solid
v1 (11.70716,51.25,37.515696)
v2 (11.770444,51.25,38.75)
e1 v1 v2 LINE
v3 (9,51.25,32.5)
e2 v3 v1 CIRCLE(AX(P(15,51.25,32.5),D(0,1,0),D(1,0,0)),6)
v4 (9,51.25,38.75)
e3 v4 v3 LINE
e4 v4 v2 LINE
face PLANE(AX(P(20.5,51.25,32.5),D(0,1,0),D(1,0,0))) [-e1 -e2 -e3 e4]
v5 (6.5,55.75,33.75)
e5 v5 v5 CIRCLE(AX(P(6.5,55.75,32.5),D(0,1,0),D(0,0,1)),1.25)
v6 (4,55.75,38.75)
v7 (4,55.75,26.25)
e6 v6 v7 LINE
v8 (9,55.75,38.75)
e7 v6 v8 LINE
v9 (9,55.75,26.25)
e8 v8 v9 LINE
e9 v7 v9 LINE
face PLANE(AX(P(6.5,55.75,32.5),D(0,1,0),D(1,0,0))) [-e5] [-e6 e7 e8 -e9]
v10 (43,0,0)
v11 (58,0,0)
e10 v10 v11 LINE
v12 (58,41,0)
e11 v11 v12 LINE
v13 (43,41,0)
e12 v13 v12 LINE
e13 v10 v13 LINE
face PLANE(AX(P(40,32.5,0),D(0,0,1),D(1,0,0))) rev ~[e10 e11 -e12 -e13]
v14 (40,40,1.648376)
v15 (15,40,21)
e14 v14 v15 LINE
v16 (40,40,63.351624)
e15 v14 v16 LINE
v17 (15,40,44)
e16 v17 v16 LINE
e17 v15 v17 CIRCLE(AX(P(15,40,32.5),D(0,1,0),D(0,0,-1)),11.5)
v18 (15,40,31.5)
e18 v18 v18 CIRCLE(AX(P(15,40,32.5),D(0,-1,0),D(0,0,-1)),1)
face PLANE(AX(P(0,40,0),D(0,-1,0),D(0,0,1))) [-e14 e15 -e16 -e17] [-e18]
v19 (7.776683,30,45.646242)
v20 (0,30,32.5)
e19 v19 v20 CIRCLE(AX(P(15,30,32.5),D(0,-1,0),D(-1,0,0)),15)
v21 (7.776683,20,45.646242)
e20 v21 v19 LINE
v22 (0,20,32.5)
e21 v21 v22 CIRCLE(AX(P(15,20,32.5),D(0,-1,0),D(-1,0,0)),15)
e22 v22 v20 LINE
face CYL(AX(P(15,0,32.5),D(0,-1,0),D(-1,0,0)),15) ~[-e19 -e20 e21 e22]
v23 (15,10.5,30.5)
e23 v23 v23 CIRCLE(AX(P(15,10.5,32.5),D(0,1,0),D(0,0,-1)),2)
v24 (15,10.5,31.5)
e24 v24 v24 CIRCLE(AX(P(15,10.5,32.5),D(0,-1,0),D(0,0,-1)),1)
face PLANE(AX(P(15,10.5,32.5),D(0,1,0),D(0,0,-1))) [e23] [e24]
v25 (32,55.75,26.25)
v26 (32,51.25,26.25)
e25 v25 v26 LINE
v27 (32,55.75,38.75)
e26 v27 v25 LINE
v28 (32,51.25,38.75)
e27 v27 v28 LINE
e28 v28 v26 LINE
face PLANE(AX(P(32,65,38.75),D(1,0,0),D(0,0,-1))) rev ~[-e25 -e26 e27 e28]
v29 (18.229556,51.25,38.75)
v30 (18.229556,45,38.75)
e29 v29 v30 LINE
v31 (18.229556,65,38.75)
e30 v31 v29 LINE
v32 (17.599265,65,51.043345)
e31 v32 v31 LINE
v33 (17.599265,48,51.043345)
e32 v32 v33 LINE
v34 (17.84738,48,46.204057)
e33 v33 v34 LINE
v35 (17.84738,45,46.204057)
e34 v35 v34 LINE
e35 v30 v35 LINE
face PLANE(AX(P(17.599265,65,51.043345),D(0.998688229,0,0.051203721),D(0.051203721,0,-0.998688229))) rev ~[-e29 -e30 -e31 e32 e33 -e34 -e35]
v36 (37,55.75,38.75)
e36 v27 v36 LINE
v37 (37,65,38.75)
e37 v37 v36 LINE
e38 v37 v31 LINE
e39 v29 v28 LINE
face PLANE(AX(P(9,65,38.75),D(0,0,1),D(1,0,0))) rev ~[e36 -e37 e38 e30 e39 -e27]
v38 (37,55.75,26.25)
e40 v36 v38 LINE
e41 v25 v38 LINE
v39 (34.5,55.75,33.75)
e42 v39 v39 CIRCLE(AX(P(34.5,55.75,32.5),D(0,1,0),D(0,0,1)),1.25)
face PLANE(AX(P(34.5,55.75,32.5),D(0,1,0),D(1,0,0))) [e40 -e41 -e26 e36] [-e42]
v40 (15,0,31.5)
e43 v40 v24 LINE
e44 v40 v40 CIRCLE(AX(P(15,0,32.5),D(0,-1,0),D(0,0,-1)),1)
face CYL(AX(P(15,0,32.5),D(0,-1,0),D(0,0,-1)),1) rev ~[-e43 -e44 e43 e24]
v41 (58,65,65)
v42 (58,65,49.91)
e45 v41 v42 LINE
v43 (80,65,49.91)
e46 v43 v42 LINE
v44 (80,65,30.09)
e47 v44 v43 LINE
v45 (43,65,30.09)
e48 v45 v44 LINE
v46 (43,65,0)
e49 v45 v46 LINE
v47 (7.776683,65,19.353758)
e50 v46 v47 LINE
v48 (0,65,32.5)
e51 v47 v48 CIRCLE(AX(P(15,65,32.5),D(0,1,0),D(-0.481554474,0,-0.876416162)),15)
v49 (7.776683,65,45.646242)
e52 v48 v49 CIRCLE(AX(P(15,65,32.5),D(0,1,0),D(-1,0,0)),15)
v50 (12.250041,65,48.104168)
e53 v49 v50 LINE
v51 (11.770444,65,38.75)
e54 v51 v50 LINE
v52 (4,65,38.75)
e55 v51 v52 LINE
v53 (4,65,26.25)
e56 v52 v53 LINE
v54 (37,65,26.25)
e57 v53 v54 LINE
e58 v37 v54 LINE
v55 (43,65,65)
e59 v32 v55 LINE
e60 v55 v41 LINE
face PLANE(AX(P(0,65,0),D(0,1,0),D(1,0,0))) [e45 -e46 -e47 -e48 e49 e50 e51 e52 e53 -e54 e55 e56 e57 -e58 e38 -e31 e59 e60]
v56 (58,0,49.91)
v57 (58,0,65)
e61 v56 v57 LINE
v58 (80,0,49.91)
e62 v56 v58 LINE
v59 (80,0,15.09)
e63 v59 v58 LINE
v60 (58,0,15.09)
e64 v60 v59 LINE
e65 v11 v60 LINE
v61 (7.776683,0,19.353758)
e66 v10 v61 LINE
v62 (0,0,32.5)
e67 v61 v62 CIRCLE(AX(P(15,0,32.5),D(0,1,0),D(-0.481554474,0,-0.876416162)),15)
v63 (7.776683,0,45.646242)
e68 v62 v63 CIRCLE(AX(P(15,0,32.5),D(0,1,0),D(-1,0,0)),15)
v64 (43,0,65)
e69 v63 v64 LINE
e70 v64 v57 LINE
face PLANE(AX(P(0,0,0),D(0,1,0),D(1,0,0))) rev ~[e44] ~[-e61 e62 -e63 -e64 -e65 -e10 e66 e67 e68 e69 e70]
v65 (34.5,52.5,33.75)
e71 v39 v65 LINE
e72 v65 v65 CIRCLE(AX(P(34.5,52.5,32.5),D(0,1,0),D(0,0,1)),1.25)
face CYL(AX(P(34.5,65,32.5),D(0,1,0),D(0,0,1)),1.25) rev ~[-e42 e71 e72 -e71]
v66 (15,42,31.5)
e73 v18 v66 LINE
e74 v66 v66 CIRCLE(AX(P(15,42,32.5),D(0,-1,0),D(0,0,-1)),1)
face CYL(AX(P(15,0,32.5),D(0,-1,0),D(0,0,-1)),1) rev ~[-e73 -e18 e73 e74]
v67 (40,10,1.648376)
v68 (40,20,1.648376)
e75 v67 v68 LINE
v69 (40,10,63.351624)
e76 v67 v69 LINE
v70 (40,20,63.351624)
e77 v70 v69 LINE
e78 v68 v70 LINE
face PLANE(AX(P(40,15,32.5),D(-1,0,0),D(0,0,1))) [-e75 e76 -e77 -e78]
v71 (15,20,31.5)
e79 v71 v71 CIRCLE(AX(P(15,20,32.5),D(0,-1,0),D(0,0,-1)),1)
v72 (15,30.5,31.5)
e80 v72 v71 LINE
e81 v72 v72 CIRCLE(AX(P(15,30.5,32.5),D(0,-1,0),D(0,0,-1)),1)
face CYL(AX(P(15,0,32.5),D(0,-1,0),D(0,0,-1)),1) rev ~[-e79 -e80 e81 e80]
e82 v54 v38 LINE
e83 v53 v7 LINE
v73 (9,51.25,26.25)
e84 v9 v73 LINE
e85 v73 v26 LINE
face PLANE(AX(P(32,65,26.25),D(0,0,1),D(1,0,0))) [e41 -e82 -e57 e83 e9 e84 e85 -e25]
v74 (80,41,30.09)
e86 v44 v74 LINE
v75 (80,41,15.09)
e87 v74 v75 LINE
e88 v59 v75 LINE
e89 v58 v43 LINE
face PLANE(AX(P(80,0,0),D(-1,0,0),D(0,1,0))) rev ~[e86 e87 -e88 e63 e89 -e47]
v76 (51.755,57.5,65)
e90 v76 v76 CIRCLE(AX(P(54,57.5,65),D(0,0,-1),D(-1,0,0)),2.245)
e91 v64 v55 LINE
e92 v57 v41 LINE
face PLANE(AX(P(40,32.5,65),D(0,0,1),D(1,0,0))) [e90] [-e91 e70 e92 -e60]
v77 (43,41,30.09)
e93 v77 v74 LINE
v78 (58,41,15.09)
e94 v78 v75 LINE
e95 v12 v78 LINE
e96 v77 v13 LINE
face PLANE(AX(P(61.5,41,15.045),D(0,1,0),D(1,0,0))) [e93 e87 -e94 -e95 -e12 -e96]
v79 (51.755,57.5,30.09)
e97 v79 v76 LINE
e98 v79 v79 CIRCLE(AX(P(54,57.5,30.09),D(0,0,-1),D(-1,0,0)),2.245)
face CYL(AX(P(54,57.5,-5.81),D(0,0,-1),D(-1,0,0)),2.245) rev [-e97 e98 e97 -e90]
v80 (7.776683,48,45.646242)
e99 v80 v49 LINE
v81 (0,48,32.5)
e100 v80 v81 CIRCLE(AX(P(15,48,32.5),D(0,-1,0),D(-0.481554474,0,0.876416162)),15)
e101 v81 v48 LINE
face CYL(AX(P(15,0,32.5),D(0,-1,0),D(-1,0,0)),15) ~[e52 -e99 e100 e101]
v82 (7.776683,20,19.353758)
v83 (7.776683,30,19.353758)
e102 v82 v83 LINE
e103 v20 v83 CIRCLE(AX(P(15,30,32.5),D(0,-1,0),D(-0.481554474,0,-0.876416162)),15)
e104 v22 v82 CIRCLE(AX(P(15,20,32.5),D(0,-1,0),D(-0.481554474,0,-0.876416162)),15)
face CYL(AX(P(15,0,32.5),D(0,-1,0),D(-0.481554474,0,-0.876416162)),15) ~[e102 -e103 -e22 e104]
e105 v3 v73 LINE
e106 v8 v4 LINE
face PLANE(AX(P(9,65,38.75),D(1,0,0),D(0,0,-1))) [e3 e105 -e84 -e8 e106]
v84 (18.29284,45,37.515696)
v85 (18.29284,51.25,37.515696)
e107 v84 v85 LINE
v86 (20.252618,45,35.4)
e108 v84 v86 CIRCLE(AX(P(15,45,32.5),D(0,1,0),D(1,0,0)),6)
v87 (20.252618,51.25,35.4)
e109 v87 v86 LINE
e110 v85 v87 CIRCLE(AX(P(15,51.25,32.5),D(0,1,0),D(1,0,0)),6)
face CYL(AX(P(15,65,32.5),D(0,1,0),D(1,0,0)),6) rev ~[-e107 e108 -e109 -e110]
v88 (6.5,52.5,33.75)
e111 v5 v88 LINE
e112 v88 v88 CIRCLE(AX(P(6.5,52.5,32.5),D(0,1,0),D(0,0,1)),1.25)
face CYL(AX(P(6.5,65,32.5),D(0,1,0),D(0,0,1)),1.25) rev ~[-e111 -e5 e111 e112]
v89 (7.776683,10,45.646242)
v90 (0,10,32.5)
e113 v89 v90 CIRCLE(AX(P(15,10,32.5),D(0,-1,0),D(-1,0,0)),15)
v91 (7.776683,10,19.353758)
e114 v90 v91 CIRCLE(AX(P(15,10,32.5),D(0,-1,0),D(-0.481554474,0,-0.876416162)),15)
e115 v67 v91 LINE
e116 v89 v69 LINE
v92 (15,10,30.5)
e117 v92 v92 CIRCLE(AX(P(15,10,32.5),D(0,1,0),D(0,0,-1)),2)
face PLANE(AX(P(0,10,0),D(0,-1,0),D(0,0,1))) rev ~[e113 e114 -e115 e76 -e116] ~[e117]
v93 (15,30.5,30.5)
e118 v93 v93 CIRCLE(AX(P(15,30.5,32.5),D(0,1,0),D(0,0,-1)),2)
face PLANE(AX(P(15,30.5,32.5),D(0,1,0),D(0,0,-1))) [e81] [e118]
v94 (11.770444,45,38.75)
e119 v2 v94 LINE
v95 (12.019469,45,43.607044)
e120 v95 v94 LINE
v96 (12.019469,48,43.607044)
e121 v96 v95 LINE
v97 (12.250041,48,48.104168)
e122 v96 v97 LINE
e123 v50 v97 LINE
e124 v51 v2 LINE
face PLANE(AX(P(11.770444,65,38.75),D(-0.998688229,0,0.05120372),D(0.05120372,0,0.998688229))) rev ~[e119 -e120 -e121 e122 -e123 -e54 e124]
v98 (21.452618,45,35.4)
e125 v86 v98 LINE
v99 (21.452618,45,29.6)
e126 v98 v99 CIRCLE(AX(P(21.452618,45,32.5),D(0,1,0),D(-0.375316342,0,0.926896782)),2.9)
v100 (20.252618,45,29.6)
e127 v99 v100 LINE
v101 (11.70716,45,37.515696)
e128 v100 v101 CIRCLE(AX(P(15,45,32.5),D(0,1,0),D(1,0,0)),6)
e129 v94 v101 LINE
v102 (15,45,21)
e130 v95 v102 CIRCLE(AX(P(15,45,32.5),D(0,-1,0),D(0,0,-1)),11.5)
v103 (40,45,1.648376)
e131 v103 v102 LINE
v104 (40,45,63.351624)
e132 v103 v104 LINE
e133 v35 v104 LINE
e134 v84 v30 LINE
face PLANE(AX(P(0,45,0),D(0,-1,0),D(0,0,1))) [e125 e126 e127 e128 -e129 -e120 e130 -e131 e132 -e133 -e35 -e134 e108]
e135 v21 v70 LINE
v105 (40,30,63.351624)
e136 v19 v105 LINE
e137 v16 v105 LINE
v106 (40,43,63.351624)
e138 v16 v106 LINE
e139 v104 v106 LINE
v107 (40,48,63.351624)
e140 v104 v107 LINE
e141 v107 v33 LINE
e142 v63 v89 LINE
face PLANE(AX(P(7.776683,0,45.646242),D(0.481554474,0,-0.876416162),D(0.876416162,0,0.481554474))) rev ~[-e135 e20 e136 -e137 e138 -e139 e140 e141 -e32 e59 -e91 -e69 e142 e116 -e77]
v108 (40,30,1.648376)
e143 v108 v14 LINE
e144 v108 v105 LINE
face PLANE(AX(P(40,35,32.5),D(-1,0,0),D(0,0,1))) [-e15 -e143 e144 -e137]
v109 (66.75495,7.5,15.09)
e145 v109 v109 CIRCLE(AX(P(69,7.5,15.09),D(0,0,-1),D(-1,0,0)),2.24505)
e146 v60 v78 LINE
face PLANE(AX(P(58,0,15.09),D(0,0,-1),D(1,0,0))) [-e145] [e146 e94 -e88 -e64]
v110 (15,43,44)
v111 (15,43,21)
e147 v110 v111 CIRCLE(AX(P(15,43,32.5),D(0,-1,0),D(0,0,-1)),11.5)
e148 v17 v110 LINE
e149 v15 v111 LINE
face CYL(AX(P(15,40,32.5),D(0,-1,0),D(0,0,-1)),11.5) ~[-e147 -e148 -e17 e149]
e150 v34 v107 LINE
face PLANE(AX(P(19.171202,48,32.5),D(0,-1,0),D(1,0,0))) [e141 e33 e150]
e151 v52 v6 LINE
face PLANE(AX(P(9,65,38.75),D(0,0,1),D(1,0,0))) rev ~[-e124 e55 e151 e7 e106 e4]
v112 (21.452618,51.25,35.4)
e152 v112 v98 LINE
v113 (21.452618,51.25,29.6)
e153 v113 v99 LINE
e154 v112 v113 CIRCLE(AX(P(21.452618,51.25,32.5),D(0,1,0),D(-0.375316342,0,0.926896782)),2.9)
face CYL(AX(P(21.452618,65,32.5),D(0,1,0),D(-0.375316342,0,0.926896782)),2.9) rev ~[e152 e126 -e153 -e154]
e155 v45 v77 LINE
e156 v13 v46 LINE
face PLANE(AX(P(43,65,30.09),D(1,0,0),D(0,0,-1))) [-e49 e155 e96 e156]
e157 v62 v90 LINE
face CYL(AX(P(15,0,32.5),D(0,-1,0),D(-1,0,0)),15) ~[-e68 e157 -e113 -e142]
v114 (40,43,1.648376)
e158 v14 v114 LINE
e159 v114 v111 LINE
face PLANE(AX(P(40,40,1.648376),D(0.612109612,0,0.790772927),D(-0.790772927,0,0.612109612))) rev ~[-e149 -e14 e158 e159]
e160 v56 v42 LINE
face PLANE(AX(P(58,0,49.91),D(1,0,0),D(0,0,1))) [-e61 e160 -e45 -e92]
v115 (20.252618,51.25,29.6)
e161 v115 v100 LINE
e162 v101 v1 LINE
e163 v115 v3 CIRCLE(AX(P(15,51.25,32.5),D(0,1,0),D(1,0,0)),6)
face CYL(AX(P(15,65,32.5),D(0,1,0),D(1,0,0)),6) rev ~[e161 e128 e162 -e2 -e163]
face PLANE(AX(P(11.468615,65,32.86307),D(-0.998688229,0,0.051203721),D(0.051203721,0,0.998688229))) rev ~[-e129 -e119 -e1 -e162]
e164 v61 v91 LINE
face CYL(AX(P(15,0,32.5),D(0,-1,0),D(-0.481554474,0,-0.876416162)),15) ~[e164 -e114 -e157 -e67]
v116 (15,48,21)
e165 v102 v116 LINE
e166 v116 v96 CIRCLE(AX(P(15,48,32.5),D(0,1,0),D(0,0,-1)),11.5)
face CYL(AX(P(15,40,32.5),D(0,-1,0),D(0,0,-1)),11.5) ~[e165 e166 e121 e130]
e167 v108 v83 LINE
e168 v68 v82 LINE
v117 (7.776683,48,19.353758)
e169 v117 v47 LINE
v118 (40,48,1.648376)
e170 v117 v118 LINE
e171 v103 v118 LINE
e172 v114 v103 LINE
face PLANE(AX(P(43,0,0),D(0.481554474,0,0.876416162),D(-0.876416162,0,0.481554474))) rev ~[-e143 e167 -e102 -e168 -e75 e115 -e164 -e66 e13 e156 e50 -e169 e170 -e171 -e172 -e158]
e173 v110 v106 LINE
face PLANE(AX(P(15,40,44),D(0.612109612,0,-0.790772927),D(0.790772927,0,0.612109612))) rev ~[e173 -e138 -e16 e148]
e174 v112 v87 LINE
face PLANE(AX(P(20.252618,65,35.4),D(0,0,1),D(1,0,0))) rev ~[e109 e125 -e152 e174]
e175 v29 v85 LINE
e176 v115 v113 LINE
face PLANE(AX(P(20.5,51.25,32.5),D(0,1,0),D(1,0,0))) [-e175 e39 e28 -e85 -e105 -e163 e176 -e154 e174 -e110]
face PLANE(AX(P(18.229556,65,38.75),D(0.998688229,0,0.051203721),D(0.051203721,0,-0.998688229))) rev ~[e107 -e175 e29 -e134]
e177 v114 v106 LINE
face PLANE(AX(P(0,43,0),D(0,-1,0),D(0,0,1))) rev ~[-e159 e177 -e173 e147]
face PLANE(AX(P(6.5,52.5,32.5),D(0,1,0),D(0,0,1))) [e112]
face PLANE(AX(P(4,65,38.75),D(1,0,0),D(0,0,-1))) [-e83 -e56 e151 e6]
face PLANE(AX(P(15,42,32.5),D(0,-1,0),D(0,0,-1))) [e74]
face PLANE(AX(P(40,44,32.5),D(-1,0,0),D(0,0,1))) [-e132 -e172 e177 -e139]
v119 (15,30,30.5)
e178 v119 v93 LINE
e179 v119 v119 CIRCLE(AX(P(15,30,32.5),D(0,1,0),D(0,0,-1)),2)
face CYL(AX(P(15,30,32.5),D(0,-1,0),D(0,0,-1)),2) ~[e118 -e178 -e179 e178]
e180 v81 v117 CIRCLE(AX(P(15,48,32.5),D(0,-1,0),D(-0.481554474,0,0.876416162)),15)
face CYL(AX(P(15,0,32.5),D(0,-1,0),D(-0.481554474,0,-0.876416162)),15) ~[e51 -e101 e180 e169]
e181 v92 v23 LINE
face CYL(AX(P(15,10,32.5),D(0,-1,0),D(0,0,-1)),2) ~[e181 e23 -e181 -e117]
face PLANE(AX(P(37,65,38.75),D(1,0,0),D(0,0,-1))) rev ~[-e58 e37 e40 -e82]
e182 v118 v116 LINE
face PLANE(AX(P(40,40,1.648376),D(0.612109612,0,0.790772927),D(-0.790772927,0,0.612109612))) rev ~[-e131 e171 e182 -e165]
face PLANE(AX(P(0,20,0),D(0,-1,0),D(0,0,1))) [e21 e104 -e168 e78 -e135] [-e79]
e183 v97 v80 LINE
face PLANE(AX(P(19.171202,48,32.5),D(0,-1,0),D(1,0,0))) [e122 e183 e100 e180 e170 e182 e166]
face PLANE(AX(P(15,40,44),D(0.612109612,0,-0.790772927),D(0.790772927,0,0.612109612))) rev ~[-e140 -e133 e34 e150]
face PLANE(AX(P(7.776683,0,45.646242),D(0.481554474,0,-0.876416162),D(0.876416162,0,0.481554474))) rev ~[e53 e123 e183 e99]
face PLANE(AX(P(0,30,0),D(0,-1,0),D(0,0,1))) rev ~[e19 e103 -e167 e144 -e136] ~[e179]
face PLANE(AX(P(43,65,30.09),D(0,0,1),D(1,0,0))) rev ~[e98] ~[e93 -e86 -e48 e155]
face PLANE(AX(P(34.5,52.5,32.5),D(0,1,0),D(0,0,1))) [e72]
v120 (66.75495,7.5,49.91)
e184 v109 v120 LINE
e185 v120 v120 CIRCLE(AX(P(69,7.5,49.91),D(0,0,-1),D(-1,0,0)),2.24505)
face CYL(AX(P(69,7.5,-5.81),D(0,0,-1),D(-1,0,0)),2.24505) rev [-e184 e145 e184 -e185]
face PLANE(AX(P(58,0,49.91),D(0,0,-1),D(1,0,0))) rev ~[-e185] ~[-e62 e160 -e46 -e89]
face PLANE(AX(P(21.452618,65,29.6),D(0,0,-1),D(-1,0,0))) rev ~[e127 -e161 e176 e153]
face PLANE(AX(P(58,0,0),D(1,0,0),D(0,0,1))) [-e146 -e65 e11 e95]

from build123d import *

# Parameters (mm, degrees)
SKETCH1_W               = 80
SKETCH1_H               = 65
BOSS_EXTRUDE1_DEPTH     = 65
SKETCH3_W               = 22
SKETCH3_H               = 15.09
CUT_EXTRUDE1_DEPTH      = 65.72
CUT_EXTRUDE2_DEPTH      = 20
CUT_EXTRUDE2_DEPTH_BACK = 55.72
SKETCH4_R               = 2.245
SKETCH4_R_2             = 2.24505
SKETCH5_W               = 65
SKETCH5_H               = 10
SKETCH5_H_2             = 2
CUT_EXTRUDE3_DEPTH      = 40
CUT_EXTRUDE4_DEPTH      = 65
SKETCH10_R              = 1
CUT_EXTRUDE6_DEPTH      = 42
SKETCH12_R              = 2.9
SKETCH12_R_2            = 6
CUT_EXTRUDE7_DEPTH      = 20
SKETCH14_W              = 23
SKETCH14_H              = 12.5
CUT_EXTRUDE9_DEPTH      = 13.75
SKETCH16_W              = 5
SKETCH16_H              = 12.5
SKETCH16_R              = 1.25
CUT_EXTRUDE10_DEPTH     = 9.25
SKETCH16_4_R            = 1.25
CUT_EXTRUDE11_DEPTH     = 12.5
CUT_EXTRUDE12_DEPTH     = 21.5
CUT_EXTRUDE13_DEPTH     = 8
SKETCH20_R              = 2
BOSS_EXTRUDE2_DEPTH     = 0.5
SKETCH21_R              = 2
BOSS_EXTRUDE3_DEPTH     = 0.5
SKETCH22_R              = 1
CUT_EXTRUDE14_DEPTH     = 30.5
SKETCH23_W              = 37
SKETCH23_H              = 30.09
CUT_EXTRUDE15_DEPTH     = 24


with BuildPart() as part:
    # Sketch1 → Boss-Extrude1 (new body)
    with BuildSketch(Plane.XY):
        with Locations((40, 32.5)):
            Rectangle(SKETCH1_W, SKETCH1_H)
    extrude(amount=BOSS_EXTRUDE1_DEPTH)

    # Sketch3 → Cut-Extrude1 (cut)
    with BuildSketch(Plane.XZ):
        with Locations((69, 57.455)):
            Rectangle(SKETCH3_W, SKETCH3_H)
        with Locations((69, 7.545)):
            Rectangle(SKETCH3_W, SKETCH3_H)
    extrude(amount=-CUT_EXTRUDE1_DEPTH, mode=Mode.SUBTRACT)

    # Sketch4 → Cut-Extrude2 (cut, two sides: drawn at the far end of the back side and taken through both)
    with BuildSketch(Plane.XY.offset(49.91).offset(-CUT_EXTRUDE2_DEPTH_BACK)):
        with Locations(Location((54, 57.5, 0), (0, 0, 180))):
            Circle(SKETCH4_R)
        with Locations(Location((69, 7.5, 0), (0, 0, 180))):
            Circle(SKETCH4_R_2)
    extrude(amount=CUT_EXTRUDE2_DEPTH + CUT_EXTRUDE2_DEPTH_BACK, mode=Mode.SUBTRACT)

    # Sketch5 → Cut-Extrude3 (cut)
    with BuildSketch(Plane.ZY):
        with Locations((32.5, 35)):
            Rectangle(SKETCH5_W, SKETCH5_H)
        with Locations((32.5, 15)):
            Rectangle(SKETCH5_W, SKETCH5_H)
        with Locations((32.5, 44)):
            Rectangle(SKETCH5_W, SKETCH5_H_2)
    extrude(amount=-CUT_EXTRUDE3_DEPTH, mode=Mode.SUBTRACT)

    # Sketch6 → Cut-Extrude4 (cut)
    with BuildSketch(Plane.XZ):
        with BuildLine():
            Line((0, 0), (43, 0))
            Line((43, 0), (7.776682895, 19.353757571))
            ThreePointArc((7.776682895, 19.353757571), (2.089737482, 24.862911437), (0, 32.5))
            Line((0, 32.5), (0, 0))
        make_face()
        with BuildLine():
            Line((0, 65), (0, 32.5))
            ThreePointArc((0, 32.5), (2.089737482, 40.137088563), (7.776682895, 45.646242429))
            Line((7.776682895, 45.646242429), (43, 65))
            Line((43, 65), (0, 65))
        make_face()
    extrude(amount=-CUT_EXTRUDE4_DEPTH, mode=Mode.SUBTRACT)

    # Sketch10 → Cut-Extrude6 (cut)
    with BuildSketch(Plane.XZ):
        with Locations(Location((15, 32.5, 0), (0, 0, 270))):
            Circle(SKETCH10_R)
    extrude(amount=-CUT_EXTRUDE6_DEPTH, mode=Mode.SUBTRACT)

    # Sketch12 → Cut-Extrude7 (cut)
    with BuildSketch(Plane(origin=(0, 65, 0), x_dir=(1, 0, 0), z_dir=(0, 1, 0))):
        with Locations((21.452618395, -32.5)):
            Circle(SKETCH12_R)
        with Locations((15, -32.5)):
            Circle(SKETCH12_R_2)
        with BuildLine():
            Line((21.452618395, -29.6), (20.252618395, -29.6))
            ThreePointArc((20.252618395, -29.6), (20.309467908, -29.705442695), (20.364201004, -29.811999333))
            ThreePointArc((20.364201004, -29.811999333), (20.898182616, -29.653493199), (21.452618395, -29.6))
        make_face()
        with BuildLine():
            ThreePointArc((20.364201004, -35.188000667), (20.309467908, -35.294557305), (20.252618395, -35.4))
            Line((20.252618395, -35.4), (21.452618395, -35.4))
            ThreePointArc((21.452618395, -35.4), (20.898182616, -35.346506801), (20.364201004, -35.188000667))
        make_face()
    extrude(amount=-CUT_EXTRUDE7_DEPTH, mode=Mode.SUBTRACT)

    # Sketch14 → Cut-Extrude9 (cut)
    with BuildSketch(Plane(origin=(0, 65, 0), x_dir=(1, 0, 0), z_dir=(0, 1, 0))):
        with Locations((20.5, -32.5)):
            Rectangle(SKETCH14_W, SKETCH14_H)
    extrude(amount=-CUT_EXTRUDE9_DEPTH, mode=Mode.SUBTRACT)

    # Sketch16 → Cut-Extrude10 (cut)
    # profile 1 of 4: a face of its own
    with BuildSketch(Plane(origin=(0, 65, 0), x_dir=(1, 0, 0), z_dir=(0, 1, 0))):
        with Locations((6.5, -32.5)):
            Rectangle(SKETCH16_W, SKETCH16_H)
        with Locations((6.5, -32.5)):
            Circle(SKETCH16_R, mode=Mode.SUBTRACT)
    # profile 2 of 4: a face of its own
    with BuildSketch(Plane(origin=(0, 65, 0), x_dir=(1, 0, 0), z_dir=(0, 1, 0))):
        with Locations((6.5, -32.5)):
            Circle(SKETCH16_R)
    # profile 3 of 4: a face of its own
    with BuildSketch(Plane(origin=(0, 65, 0), x_dir=(1, 0, 0), z_dir=(0, 1, 0))):
        with Locations((34.5, -32.5)):
            Rectangle(SKETCH16_W, SKETCH16_H)
        with Locations((34.5, -32.5)):
            Circle(SKETCH16_R, mode=Mode.SUBTRACT)
    # profile 4 of 4: a face of its own
    with BuildSketch(Plane(origin=(0, 65, 0), x_dir=(1, 0, 0), z_dir=(0, 1, 0))):
        with Locations((34.5, -32.5)):
            Circle(SKETCH16_R)
    extrude(amount=-CUT_EXTRUDE10_DEPTH, mode=Mode.SUBTRACT)

    # Sketch16<4> → Cut-Extrude11 (cut)
    with BuildSketch(Plane(origin=(0, 65, 0), x_dir=(1, 0, 0), z_dir=(0, 1, 0))):
        with Locations(Location((6.5, -32.5, 0), (0, 0, 270))):
            Circle(SKETCH16_4_R)
        with Locations(Location((34.5, -32.5, 0), (0, 0, 270))):
            Circle(SKETCH16_4_R)
    extrude(amount=-CUT_EXTRUDE11_DEPTH, mode=Mode.SUBTRACT)

    # Sketch18 → Cut-Extrude12 (cut)
    with BuildSketch(Plane(origin=(0, 65, 0), x_dir=(1, 0, 0), z_dir=(0, 1, 0))):
        with BuildLine():
            ThreePointArc((18.531385071, -32.863069526), (15, -36.05), (11.468614929, -32.863069526))
            Line((11.468614929, -32.863069526), (11.770443602, -38.75))
            Line((11.770443602, -38.75), (18.229556398, -38.75))
            Line((18.229556398, -38.75), (18.531385071, -32.863069526))
        make_face()
        with BuildLine():
            Line((15.593717104, -29), (14.406282896, -29))
            ThreePointArc((14.406282896, -29), (12.287971634, -30.209279122), (11.45, -32.5))
            Line((11.45, -32.5), (11.468614929, -32.863069526))
            ThreePointArc((11.468614929, -32.863069526), (15, -36.05), (18.531385071, -32.863069526))
            Line((18.531385071, -32.863069526), (18.55, -32.5))
            ThreePointArc((18.55, -32.5), (17.712028366, -30.209279122), (15.593717104, -29))
        make_face()
        with BuildLine():
            ThreePointArc((15.593717104, -29), (15, -28.95), (14.406282896, -29))
            Line((14.406282896, -29), (15.593717104, -29))
        make_face()
        Polygon((18.229556398, -38.75), (11.770443602, -38.75), (12.25004092, -48.104167856), (17.599264584, -51.043345268), align=None)
    extrude(amount=-CUT_EXTRUDE12_DEPTH, mode=Mode.SUBTRACT)

    # Sketch19 → Cut-Extrude13 (cut)
    with BuildSketch(Plane.XZ.offset(-40)):
        with BuildLine():
            Line((15, 44), (40, 63.351623939))
            Line((40, 63.351623939), (7.776682895, 45.646242429))
            ThreePointArc((7.776682895, 45.646242429), (0, 32.5), (7.776682895, 19.353757571))
            Line((7.776682895, 19.353757571), (40, 1.648376061))
            Line((40, 1.648376061), (15, 21))
            ThreePointArc((15, 21), (3.5, 32.5), (15, 44))
        make_face()
    extrude(amount=-CUT_EXTRUDE13_DEPTH, mode=Mode.SUBTRACT)

    # Sketch20 → Boss-Extrude2 (add)
    with BuildSketch(Plane(origin=(0, 30, 0), x_dir=(1, 0, 0), z_dir=(0, 1, 0))):
        with Locations(Location((15, -32.5, 0), (0, 0, 90))):
            Circle(SKETCH20_R)
    extrude(amount=BOSS_EXTRUDE2_DEPTH)

    # Sketch21 → Boss-Extrude3 (add)
    with BuildSketch(Plane(origin=(0, 10, 0), x_dir=(1, 0, 0), z_dir=(0, 1, 0))):
        with Locations(Location((15, -32.5, 0), (0, 0, 90))):
            Circle(SKETCH21_R)
    extrude(amount=BOSS_EXTRUDE3_DEPTH)

    # Sketch22 → Cut-Extrude14 (cut)
    with BuildSketch(Plane.XZ):
        with Locations(Location((15, 32.5, 0), (0, 0, 270))):
            Circle(SKETCH22_R)
    extrude(amount=-CUT_EXTRUDE14_DEPTH, mode=Mode.SUBTRACT)

    # Sketch23 → Cut-Extrude15 (cut)
    with BuildSketch(Plane(origin=(0, 65, 0), x_dir=(1, 0, 0), z_dir=(0, 1, 0))):
        with Locations((61.5, -15.045)):
            Rectangle(SKETCH23_W, SKETCH23_H)
    extrude(amount=-CUT_EXTRUDE15_DEPTH, mode=Mode.SUBTRACT)


solid = part.part
